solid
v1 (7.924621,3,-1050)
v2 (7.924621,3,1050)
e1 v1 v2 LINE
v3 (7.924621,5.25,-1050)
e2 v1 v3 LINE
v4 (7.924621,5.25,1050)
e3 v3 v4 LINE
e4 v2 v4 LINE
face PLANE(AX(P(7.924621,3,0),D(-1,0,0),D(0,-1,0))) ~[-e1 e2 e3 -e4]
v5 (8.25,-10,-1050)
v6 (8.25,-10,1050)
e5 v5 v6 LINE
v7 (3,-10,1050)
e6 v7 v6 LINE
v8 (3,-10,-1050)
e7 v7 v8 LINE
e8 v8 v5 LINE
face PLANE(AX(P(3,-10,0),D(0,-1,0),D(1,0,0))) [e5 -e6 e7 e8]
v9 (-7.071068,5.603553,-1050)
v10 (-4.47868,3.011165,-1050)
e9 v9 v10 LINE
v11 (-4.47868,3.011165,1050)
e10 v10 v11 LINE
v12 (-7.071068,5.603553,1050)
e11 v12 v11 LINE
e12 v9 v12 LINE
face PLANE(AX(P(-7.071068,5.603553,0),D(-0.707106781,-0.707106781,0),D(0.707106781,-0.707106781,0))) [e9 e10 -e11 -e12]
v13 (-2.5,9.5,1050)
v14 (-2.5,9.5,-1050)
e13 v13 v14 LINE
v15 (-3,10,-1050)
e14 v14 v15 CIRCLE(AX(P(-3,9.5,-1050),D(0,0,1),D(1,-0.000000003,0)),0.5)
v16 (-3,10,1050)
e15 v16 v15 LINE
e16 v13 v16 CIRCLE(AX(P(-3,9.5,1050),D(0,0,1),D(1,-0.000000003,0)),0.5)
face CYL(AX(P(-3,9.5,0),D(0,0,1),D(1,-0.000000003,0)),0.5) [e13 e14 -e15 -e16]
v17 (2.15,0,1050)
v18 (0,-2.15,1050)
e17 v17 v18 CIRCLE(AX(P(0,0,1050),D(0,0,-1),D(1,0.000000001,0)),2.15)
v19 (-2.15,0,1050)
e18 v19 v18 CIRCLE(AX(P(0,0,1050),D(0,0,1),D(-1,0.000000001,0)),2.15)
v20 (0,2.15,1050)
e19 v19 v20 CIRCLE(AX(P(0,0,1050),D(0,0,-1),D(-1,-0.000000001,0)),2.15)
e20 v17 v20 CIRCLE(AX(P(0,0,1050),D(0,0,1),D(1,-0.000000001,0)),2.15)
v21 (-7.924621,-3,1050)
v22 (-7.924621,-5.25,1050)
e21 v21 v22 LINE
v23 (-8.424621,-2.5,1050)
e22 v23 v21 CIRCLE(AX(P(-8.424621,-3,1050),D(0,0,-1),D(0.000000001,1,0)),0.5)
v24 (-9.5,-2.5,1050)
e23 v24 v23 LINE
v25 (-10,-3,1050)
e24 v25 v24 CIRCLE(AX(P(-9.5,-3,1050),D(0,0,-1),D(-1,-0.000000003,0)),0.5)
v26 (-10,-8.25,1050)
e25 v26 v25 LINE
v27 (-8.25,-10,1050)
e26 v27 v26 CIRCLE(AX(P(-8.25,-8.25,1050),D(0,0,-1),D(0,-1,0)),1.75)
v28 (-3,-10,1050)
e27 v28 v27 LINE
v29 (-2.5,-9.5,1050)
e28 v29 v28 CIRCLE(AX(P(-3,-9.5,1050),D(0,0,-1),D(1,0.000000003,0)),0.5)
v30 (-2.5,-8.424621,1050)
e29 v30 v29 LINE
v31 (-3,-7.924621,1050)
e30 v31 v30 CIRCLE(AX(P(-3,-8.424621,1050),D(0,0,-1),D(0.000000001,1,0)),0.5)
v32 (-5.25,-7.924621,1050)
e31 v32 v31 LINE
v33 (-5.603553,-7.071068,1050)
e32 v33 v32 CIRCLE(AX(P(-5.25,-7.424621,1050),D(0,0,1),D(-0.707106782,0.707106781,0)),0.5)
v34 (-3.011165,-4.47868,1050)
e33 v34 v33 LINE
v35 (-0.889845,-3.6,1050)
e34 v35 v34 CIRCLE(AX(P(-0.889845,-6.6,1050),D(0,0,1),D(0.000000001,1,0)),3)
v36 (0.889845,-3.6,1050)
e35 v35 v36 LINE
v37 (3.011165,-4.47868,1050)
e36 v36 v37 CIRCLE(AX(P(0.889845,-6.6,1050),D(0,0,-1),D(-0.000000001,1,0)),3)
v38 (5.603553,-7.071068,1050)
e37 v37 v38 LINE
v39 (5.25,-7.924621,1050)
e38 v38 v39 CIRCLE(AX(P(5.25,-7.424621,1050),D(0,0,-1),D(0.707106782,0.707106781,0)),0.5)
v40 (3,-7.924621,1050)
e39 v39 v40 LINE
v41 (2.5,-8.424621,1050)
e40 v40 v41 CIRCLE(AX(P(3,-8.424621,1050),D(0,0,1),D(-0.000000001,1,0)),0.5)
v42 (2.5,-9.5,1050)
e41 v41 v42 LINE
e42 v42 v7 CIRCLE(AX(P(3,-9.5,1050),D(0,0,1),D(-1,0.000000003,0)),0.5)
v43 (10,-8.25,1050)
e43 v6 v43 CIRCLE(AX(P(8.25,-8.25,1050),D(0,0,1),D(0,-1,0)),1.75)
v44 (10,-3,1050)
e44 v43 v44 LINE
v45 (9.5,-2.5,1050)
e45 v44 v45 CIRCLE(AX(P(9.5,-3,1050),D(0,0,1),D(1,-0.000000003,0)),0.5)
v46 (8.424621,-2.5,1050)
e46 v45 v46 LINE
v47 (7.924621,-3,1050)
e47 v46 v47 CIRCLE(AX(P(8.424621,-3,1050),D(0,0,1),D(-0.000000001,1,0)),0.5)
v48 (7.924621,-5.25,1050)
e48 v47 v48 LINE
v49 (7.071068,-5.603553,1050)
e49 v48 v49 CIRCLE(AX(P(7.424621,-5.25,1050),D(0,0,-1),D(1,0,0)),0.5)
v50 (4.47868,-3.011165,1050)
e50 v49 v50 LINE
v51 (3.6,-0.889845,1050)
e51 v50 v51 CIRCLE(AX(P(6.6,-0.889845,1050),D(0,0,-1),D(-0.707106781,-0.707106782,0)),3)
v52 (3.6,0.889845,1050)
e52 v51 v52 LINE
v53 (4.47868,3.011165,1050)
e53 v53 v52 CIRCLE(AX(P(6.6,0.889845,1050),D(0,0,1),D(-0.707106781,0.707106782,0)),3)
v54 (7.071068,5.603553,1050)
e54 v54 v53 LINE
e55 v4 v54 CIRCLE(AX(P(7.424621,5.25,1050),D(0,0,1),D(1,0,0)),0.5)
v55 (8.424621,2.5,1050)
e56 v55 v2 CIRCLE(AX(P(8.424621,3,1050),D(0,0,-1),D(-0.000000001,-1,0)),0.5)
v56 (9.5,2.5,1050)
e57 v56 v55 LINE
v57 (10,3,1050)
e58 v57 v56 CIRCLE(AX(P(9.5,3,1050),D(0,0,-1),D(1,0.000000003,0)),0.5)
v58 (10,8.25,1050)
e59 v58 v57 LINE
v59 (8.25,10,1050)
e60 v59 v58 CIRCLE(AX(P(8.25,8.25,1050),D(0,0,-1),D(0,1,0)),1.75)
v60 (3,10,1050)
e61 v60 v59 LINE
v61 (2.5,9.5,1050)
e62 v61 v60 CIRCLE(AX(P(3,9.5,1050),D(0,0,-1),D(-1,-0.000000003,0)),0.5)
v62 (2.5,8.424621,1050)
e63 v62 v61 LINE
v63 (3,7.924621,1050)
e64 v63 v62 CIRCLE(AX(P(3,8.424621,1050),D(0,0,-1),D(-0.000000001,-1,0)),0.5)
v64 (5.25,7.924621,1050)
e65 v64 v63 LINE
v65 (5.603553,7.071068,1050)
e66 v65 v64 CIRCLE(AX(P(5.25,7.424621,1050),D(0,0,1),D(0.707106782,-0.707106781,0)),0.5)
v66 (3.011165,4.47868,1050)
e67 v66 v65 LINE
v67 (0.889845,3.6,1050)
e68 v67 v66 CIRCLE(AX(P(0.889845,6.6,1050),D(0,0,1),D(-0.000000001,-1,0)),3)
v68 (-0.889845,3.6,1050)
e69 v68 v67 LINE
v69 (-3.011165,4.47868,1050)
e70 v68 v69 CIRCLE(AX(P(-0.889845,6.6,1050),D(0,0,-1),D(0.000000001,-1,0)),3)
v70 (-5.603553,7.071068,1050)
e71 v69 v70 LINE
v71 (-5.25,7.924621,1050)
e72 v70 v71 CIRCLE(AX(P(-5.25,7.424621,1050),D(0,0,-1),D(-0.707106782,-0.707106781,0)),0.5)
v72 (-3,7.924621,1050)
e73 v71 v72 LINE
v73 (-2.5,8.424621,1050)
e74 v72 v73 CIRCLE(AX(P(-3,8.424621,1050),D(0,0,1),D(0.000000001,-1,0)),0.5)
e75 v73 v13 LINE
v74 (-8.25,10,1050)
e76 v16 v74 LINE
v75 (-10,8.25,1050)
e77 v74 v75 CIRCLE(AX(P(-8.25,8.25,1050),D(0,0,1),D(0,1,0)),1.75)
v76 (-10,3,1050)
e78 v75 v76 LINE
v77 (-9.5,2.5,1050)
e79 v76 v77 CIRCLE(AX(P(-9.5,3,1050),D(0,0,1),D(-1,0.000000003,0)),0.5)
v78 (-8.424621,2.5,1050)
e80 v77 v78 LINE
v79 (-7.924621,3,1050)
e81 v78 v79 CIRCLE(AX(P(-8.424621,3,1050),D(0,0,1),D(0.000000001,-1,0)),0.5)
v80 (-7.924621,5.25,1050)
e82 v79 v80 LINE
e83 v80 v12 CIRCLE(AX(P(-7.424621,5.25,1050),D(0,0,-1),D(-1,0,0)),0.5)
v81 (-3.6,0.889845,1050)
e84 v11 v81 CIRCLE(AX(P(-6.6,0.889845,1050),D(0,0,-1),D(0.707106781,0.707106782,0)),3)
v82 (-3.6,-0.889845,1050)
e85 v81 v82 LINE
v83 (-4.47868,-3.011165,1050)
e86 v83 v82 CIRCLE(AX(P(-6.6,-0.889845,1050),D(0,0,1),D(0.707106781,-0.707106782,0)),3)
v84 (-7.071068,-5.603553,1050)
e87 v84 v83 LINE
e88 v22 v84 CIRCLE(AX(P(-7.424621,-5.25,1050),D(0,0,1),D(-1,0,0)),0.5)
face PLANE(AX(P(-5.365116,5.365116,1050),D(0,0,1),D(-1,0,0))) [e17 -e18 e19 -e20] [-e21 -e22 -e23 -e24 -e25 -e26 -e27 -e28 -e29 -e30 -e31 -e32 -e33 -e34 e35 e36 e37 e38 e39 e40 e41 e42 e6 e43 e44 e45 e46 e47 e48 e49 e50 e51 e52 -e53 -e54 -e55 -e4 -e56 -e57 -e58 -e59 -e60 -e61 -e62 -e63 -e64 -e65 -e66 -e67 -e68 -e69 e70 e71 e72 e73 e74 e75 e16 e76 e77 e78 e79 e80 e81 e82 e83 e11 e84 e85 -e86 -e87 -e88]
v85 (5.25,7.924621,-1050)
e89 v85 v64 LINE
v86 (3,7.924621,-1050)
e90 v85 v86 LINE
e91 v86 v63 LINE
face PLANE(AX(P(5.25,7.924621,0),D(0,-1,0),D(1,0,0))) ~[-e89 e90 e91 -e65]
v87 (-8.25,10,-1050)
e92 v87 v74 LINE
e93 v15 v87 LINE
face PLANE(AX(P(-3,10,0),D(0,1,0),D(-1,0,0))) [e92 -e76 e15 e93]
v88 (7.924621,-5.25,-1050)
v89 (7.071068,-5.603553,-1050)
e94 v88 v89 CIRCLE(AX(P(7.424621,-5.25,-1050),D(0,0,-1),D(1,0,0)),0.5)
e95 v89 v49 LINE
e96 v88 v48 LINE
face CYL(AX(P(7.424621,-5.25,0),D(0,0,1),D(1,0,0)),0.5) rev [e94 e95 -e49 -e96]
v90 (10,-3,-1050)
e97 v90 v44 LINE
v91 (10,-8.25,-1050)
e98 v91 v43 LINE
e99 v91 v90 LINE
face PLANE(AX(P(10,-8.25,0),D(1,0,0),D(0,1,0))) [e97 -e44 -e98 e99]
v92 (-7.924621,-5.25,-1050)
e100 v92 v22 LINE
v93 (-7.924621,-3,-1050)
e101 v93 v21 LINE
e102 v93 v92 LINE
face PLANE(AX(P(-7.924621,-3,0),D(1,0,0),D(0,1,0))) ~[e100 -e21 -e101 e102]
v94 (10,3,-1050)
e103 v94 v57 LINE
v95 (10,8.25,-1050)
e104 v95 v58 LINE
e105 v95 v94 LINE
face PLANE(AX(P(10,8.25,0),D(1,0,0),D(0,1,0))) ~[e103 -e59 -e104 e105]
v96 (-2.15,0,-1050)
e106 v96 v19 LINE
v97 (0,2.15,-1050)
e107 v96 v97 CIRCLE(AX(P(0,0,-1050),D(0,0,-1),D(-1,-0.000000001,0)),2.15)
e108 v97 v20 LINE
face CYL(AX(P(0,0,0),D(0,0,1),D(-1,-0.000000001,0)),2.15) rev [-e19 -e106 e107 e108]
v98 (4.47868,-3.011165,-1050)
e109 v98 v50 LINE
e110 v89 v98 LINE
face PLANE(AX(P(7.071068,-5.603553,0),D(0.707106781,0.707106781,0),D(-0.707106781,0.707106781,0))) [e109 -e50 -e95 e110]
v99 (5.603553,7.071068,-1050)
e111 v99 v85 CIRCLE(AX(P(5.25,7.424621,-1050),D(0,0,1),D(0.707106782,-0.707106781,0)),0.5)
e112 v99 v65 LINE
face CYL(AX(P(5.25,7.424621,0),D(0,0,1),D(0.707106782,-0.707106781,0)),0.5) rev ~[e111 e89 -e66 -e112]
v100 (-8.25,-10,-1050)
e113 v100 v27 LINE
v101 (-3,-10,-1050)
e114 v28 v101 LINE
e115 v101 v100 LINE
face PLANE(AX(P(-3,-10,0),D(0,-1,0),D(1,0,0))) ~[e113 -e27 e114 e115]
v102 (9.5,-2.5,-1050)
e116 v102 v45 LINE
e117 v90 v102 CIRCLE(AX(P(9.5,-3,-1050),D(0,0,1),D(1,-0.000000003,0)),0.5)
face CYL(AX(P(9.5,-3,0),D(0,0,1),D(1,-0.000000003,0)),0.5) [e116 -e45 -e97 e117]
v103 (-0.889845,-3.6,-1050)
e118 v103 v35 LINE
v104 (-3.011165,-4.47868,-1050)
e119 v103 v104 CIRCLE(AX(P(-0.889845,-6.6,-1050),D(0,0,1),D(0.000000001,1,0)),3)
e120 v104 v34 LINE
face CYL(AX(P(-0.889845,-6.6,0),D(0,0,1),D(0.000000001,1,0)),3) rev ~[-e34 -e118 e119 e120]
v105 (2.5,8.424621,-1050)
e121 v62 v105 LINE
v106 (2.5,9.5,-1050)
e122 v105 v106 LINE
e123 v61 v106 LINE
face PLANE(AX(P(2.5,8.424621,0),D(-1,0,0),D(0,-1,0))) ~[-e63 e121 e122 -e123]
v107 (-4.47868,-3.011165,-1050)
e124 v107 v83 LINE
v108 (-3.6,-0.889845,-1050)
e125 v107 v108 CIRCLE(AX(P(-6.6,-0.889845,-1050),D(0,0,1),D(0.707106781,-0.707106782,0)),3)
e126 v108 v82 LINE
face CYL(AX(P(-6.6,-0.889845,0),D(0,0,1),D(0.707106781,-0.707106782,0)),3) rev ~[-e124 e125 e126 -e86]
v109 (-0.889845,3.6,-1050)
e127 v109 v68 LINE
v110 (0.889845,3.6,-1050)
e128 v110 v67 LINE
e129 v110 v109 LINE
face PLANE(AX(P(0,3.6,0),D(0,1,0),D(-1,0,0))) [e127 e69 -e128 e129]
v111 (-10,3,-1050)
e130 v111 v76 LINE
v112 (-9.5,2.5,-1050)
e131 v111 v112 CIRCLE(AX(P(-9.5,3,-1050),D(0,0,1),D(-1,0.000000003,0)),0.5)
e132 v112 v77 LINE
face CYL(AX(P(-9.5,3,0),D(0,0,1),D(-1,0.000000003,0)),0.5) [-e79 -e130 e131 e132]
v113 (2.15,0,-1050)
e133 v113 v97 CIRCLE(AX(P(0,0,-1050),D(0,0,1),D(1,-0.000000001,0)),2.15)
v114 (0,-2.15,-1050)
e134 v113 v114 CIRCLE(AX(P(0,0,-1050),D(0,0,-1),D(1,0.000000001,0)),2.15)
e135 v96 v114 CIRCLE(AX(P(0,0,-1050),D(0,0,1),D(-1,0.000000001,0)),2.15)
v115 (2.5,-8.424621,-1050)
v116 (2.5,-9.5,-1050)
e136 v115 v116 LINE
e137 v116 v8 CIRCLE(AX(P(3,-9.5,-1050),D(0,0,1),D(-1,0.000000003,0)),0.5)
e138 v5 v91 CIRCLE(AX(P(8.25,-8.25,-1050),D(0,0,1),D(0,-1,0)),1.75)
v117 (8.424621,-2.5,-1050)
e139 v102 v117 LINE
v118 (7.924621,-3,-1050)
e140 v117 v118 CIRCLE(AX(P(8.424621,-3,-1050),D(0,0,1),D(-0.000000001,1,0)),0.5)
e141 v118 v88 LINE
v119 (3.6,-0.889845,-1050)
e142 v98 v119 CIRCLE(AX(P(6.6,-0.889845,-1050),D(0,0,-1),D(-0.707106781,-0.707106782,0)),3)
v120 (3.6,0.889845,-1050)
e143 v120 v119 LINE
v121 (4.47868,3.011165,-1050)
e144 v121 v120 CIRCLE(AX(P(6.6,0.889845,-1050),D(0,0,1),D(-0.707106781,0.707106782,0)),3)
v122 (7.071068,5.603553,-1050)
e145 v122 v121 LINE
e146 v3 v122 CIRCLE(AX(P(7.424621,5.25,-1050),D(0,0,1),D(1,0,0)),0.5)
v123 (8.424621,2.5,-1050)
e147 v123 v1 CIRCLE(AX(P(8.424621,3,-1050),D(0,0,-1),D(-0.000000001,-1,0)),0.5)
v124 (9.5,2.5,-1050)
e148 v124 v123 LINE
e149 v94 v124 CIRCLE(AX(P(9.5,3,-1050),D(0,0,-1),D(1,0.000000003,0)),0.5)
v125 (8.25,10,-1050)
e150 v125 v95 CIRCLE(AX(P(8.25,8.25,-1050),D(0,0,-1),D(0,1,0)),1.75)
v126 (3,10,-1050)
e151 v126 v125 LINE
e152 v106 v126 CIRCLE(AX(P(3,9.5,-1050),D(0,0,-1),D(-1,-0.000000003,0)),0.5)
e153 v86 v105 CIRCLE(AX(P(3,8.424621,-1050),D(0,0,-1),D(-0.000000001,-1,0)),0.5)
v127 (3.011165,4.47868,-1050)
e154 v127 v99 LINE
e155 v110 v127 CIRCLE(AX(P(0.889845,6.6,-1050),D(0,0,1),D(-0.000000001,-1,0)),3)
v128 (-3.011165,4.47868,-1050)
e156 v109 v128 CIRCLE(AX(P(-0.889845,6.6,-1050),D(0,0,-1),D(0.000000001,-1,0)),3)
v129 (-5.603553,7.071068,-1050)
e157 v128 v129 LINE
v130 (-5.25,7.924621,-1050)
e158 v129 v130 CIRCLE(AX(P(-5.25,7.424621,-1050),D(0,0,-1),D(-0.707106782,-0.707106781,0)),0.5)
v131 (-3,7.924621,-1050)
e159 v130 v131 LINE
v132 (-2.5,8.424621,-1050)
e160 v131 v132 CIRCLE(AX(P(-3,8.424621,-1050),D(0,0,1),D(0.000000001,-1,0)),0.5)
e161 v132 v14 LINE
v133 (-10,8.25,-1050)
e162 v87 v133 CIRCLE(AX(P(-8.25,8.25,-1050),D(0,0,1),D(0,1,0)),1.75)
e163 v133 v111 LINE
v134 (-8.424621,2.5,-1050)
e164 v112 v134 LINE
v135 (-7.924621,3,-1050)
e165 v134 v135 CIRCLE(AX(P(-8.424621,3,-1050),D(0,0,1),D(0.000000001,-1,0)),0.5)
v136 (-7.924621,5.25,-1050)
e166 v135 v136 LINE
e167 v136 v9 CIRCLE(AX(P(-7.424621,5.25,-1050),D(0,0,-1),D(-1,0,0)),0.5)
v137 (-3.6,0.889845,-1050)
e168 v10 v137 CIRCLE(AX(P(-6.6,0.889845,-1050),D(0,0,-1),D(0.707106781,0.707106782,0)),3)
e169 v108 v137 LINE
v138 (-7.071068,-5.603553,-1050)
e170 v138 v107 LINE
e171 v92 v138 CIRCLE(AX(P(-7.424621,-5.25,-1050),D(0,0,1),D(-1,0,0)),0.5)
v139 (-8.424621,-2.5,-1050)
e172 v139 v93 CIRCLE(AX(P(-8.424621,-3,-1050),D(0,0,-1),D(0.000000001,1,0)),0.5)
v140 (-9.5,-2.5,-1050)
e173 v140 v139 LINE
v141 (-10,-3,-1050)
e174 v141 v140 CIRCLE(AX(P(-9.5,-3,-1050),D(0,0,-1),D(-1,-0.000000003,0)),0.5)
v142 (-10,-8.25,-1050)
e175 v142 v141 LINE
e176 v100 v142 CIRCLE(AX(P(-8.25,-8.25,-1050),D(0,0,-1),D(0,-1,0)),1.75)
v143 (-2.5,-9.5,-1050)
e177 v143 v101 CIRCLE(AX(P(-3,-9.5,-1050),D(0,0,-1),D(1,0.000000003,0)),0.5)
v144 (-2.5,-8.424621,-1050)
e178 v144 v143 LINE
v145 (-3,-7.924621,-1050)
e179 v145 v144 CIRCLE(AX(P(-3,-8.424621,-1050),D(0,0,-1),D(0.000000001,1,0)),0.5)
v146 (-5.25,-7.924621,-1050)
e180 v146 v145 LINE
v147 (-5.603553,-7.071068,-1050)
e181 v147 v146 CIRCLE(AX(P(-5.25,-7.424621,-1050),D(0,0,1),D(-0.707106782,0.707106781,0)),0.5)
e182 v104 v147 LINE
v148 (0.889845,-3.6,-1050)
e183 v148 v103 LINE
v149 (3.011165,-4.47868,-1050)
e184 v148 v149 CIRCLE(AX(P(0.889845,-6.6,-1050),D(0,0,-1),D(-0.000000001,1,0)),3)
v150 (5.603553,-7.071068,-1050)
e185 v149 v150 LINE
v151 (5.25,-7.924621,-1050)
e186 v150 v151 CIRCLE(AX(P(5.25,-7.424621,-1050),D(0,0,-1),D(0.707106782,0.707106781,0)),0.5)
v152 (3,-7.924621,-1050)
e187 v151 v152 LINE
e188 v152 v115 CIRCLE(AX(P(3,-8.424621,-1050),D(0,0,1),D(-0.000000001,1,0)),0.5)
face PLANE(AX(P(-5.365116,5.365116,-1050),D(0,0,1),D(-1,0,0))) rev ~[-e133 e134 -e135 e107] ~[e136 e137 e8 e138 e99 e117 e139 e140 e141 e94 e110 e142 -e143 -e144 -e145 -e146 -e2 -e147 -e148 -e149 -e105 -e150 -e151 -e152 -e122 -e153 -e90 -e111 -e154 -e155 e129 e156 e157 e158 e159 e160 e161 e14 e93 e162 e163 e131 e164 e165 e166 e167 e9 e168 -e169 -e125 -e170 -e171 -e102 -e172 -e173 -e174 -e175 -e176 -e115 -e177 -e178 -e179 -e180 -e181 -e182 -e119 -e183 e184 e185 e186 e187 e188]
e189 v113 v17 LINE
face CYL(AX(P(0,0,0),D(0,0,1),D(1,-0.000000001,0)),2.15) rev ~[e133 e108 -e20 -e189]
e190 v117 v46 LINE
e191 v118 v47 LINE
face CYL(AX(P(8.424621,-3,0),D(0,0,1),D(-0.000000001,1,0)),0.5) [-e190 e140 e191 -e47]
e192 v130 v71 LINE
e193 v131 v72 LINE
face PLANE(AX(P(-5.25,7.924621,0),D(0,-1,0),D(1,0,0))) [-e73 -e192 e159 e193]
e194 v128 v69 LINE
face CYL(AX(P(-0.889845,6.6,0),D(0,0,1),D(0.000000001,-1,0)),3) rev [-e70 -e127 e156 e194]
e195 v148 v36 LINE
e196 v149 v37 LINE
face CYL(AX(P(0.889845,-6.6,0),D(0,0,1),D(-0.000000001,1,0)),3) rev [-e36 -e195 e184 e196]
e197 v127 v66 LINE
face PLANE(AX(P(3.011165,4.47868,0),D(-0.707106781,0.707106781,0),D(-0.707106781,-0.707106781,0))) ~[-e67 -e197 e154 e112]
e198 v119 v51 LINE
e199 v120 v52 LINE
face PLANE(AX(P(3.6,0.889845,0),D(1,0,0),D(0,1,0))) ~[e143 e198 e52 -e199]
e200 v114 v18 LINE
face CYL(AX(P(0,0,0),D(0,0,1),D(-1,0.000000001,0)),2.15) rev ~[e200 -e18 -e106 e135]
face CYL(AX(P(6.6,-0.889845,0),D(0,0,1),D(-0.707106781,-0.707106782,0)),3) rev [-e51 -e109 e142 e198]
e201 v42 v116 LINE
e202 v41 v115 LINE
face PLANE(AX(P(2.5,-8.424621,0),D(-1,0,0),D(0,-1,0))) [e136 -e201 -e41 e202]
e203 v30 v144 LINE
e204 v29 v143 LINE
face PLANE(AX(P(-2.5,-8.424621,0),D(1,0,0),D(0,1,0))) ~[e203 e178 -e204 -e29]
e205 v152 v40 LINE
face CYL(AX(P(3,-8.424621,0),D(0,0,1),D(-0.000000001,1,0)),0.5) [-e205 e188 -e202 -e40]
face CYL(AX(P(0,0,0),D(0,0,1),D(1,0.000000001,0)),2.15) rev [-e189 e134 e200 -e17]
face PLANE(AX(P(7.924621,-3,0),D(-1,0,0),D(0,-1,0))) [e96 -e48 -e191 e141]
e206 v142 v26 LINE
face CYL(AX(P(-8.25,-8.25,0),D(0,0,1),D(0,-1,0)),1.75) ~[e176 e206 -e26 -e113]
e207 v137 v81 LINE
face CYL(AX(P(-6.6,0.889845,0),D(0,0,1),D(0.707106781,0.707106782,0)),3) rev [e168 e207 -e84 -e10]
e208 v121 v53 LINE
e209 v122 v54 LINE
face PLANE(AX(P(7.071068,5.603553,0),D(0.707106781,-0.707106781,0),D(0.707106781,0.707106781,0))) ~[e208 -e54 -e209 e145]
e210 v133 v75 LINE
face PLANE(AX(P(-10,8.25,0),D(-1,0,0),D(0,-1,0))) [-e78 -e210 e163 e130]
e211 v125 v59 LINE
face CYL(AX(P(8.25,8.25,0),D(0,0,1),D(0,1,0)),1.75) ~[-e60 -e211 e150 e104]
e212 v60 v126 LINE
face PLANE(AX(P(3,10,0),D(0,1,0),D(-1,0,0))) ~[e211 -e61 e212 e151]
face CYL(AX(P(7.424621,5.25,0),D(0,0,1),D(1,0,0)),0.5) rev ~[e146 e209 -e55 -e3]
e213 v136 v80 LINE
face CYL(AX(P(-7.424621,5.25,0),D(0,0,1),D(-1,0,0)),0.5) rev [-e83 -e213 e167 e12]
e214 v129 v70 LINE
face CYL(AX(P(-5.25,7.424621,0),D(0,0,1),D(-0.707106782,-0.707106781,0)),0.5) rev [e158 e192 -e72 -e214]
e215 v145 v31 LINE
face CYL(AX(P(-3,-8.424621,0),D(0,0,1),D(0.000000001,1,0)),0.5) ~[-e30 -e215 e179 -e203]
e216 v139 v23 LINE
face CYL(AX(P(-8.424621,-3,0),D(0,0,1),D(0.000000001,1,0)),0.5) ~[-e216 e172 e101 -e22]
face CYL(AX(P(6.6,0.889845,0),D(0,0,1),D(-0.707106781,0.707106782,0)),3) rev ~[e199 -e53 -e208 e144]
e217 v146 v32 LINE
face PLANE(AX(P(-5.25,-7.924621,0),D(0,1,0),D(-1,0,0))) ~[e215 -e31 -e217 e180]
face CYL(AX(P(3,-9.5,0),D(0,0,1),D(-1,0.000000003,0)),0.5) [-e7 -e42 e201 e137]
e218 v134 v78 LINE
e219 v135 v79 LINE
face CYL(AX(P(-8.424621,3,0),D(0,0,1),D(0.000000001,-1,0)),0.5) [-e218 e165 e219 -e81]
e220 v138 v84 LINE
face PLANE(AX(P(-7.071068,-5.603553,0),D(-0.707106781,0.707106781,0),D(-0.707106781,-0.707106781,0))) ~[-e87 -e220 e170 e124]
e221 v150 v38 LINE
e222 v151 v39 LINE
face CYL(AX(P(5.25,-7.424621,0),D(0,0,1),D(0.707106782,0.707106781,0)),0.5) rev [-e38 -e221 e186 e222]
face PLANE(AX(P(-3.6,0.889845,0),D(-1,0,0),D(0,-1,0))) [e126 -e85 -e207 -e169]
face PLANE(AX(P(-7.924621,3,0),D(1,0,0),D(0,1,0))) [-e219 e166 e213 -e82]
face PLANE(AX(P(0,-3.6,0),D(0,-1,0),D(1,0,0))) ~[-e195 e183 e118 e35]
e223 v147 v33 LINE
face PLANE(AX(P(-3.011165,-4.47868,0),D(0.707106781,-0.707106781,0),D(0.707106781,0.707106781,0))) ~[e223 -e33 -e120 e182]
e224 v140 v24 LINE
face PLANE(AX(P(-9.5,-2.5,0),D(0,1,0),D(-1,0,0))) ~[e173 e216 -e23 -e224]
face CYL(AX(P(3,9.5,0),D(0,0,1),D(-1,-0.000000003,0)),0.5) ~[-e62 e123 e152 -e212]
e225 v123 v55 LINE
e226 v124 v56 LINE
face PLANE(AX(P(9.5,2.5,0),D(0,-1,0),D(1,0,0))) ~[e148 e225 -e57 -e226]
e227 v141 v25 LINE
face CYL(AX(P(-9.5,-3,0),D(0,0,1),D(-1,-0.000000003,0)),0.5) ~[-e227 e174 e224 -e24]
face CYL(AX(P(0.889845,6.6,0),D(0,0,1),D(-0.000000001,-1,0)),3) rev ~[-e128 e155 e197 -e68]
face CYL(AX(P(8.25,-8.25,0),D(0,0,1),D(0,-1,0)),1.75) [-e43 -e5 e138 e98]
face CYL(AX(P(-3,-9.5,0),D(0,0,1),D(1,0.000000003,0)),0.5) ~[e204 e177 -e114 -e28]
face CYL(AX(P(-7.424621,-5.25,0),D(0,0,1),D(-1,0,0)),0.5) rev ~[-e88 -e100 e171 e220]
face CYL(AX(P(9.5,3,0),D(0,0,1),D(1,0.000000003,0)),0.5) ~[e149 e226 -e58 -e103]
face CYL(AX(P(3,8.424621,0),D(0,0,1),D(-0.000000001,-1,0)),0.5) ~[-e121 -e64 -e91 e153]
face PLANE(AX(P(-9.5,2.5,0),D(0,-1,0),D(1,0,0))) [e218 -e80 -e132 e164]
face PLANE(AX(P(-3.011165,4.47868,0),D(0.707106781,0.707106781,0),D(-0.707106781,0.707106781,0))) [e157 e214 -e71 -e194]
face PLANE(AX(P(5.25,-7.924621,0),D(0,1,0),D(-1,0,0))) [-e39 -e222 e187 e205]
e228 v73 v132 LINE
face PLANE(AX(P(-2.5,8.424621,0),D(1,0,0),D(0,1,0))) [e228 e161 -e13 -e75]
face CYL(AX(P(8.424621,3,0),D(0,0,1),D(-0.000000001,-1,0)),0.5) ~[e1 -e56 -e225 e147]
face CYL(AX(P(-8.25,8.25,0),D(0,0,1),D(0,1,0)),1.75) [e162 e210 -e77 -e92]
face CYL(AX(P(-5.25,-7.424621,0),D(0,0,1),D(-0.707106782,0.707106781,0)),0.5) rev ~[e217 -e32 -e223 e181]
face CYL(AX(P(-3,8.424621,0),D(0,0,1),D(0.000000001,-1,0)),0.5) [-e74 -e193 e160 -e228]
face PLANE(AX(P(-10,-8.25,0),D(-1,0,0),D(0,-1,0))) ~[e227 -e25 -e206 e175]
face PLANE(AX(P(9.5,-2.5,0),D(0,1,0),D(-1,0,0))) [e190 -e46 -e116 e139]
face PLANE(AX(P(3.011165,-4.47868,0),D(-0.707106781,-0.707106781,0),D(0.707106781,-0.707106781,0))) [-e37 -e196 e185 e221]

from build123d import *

# Parameters (mm, degrees)
BOSS_EXTRUDE1_DEPTH = 1050


with BuildPart() as part:
    # Sketch4 → Boss-Extrude1 (new, symmetric)
    with BuildSketch(Plane.XY):
        with BuildLine():
            Line((3, -10), (8.25, -10))
            ThreePointArc((8.25, -10), (9.487436867, -9.487436867), (10, -8.25))
            Line((10, -8.25), (10, -3))
            ThreePointArc((10, -3), (9.853553391, -2.646446609), (9.5, -2.5))
            Line((9.5, -2.5), (8.424621202, -2.5))
            ThreePointArc((8.424621202, -2.5), (8.071067812, -2.646446609), (7.924621202, -3))
            Line((7.924621202, -3), (7.924621202, -5.25))
            ThreePointArc((7.924621202, -5.25), (7.615962919, -5.711939766), (7.071067812, -5.603553391))
            Line((7.071067812, -5.603553391), (4.478679656, -3.011165235))
            ThreePointArc((4.478679656, -3.011165235), (3.828361402, -2.037895189), (3.6, -0.889844892))
            Line((3.6, -0.889844892), (3.6, 0))
            Line((3.6, 0), (2.15, 0))
            ThreePointArc((2.15, 0), (1.52027958, -1.52027958), (0, -2.15))
            Line((0, -2.15), (0, -3.6))
            Line((0, -3.6), (0.889844892, -3.6))
            ThreePointArc((0.889844892, -3.6), (2.037895189, -3.828361402), (3.011165235, -4.478679656))
            Line((3.011165235, -4.478679656), (5.603553391, -7.071067812))
            ThreePointArc((5.603553391, -7.071067812), (5.711939766, -7.615962919), (5.25, -7.924621202))
            Line((5.25, -7.924621202), (3, -7.924621202))
            ThreePointArc((3, -7.924621202), (2.646446609, -8.071067812), (2.5, -8.424621202))
            Line((2.5, -8.424621202), (2.5, -9.5))
            ThreePointArc((2.5, -9.5), (2.646446609, -9.853553391), (3, -10))
        make_face()
    extrude(amount=BOSS_EXTRUDE1_DEPTH, both=True)

    # Mirror1: part across plane


with BuildPart() as part_1:
    add(part.part)
    add(part.part.mirror(Plane(origin=(0, 0, 0), x_dir=(0, 0, 1), z_dir=(1, 0, 0))))

    # Mirror2: part across plane


with BuildPart() as part_2:
    add(part_1.part)
    add(part_1.part.mirror(Plane.ZX))


solid = part_2.part
